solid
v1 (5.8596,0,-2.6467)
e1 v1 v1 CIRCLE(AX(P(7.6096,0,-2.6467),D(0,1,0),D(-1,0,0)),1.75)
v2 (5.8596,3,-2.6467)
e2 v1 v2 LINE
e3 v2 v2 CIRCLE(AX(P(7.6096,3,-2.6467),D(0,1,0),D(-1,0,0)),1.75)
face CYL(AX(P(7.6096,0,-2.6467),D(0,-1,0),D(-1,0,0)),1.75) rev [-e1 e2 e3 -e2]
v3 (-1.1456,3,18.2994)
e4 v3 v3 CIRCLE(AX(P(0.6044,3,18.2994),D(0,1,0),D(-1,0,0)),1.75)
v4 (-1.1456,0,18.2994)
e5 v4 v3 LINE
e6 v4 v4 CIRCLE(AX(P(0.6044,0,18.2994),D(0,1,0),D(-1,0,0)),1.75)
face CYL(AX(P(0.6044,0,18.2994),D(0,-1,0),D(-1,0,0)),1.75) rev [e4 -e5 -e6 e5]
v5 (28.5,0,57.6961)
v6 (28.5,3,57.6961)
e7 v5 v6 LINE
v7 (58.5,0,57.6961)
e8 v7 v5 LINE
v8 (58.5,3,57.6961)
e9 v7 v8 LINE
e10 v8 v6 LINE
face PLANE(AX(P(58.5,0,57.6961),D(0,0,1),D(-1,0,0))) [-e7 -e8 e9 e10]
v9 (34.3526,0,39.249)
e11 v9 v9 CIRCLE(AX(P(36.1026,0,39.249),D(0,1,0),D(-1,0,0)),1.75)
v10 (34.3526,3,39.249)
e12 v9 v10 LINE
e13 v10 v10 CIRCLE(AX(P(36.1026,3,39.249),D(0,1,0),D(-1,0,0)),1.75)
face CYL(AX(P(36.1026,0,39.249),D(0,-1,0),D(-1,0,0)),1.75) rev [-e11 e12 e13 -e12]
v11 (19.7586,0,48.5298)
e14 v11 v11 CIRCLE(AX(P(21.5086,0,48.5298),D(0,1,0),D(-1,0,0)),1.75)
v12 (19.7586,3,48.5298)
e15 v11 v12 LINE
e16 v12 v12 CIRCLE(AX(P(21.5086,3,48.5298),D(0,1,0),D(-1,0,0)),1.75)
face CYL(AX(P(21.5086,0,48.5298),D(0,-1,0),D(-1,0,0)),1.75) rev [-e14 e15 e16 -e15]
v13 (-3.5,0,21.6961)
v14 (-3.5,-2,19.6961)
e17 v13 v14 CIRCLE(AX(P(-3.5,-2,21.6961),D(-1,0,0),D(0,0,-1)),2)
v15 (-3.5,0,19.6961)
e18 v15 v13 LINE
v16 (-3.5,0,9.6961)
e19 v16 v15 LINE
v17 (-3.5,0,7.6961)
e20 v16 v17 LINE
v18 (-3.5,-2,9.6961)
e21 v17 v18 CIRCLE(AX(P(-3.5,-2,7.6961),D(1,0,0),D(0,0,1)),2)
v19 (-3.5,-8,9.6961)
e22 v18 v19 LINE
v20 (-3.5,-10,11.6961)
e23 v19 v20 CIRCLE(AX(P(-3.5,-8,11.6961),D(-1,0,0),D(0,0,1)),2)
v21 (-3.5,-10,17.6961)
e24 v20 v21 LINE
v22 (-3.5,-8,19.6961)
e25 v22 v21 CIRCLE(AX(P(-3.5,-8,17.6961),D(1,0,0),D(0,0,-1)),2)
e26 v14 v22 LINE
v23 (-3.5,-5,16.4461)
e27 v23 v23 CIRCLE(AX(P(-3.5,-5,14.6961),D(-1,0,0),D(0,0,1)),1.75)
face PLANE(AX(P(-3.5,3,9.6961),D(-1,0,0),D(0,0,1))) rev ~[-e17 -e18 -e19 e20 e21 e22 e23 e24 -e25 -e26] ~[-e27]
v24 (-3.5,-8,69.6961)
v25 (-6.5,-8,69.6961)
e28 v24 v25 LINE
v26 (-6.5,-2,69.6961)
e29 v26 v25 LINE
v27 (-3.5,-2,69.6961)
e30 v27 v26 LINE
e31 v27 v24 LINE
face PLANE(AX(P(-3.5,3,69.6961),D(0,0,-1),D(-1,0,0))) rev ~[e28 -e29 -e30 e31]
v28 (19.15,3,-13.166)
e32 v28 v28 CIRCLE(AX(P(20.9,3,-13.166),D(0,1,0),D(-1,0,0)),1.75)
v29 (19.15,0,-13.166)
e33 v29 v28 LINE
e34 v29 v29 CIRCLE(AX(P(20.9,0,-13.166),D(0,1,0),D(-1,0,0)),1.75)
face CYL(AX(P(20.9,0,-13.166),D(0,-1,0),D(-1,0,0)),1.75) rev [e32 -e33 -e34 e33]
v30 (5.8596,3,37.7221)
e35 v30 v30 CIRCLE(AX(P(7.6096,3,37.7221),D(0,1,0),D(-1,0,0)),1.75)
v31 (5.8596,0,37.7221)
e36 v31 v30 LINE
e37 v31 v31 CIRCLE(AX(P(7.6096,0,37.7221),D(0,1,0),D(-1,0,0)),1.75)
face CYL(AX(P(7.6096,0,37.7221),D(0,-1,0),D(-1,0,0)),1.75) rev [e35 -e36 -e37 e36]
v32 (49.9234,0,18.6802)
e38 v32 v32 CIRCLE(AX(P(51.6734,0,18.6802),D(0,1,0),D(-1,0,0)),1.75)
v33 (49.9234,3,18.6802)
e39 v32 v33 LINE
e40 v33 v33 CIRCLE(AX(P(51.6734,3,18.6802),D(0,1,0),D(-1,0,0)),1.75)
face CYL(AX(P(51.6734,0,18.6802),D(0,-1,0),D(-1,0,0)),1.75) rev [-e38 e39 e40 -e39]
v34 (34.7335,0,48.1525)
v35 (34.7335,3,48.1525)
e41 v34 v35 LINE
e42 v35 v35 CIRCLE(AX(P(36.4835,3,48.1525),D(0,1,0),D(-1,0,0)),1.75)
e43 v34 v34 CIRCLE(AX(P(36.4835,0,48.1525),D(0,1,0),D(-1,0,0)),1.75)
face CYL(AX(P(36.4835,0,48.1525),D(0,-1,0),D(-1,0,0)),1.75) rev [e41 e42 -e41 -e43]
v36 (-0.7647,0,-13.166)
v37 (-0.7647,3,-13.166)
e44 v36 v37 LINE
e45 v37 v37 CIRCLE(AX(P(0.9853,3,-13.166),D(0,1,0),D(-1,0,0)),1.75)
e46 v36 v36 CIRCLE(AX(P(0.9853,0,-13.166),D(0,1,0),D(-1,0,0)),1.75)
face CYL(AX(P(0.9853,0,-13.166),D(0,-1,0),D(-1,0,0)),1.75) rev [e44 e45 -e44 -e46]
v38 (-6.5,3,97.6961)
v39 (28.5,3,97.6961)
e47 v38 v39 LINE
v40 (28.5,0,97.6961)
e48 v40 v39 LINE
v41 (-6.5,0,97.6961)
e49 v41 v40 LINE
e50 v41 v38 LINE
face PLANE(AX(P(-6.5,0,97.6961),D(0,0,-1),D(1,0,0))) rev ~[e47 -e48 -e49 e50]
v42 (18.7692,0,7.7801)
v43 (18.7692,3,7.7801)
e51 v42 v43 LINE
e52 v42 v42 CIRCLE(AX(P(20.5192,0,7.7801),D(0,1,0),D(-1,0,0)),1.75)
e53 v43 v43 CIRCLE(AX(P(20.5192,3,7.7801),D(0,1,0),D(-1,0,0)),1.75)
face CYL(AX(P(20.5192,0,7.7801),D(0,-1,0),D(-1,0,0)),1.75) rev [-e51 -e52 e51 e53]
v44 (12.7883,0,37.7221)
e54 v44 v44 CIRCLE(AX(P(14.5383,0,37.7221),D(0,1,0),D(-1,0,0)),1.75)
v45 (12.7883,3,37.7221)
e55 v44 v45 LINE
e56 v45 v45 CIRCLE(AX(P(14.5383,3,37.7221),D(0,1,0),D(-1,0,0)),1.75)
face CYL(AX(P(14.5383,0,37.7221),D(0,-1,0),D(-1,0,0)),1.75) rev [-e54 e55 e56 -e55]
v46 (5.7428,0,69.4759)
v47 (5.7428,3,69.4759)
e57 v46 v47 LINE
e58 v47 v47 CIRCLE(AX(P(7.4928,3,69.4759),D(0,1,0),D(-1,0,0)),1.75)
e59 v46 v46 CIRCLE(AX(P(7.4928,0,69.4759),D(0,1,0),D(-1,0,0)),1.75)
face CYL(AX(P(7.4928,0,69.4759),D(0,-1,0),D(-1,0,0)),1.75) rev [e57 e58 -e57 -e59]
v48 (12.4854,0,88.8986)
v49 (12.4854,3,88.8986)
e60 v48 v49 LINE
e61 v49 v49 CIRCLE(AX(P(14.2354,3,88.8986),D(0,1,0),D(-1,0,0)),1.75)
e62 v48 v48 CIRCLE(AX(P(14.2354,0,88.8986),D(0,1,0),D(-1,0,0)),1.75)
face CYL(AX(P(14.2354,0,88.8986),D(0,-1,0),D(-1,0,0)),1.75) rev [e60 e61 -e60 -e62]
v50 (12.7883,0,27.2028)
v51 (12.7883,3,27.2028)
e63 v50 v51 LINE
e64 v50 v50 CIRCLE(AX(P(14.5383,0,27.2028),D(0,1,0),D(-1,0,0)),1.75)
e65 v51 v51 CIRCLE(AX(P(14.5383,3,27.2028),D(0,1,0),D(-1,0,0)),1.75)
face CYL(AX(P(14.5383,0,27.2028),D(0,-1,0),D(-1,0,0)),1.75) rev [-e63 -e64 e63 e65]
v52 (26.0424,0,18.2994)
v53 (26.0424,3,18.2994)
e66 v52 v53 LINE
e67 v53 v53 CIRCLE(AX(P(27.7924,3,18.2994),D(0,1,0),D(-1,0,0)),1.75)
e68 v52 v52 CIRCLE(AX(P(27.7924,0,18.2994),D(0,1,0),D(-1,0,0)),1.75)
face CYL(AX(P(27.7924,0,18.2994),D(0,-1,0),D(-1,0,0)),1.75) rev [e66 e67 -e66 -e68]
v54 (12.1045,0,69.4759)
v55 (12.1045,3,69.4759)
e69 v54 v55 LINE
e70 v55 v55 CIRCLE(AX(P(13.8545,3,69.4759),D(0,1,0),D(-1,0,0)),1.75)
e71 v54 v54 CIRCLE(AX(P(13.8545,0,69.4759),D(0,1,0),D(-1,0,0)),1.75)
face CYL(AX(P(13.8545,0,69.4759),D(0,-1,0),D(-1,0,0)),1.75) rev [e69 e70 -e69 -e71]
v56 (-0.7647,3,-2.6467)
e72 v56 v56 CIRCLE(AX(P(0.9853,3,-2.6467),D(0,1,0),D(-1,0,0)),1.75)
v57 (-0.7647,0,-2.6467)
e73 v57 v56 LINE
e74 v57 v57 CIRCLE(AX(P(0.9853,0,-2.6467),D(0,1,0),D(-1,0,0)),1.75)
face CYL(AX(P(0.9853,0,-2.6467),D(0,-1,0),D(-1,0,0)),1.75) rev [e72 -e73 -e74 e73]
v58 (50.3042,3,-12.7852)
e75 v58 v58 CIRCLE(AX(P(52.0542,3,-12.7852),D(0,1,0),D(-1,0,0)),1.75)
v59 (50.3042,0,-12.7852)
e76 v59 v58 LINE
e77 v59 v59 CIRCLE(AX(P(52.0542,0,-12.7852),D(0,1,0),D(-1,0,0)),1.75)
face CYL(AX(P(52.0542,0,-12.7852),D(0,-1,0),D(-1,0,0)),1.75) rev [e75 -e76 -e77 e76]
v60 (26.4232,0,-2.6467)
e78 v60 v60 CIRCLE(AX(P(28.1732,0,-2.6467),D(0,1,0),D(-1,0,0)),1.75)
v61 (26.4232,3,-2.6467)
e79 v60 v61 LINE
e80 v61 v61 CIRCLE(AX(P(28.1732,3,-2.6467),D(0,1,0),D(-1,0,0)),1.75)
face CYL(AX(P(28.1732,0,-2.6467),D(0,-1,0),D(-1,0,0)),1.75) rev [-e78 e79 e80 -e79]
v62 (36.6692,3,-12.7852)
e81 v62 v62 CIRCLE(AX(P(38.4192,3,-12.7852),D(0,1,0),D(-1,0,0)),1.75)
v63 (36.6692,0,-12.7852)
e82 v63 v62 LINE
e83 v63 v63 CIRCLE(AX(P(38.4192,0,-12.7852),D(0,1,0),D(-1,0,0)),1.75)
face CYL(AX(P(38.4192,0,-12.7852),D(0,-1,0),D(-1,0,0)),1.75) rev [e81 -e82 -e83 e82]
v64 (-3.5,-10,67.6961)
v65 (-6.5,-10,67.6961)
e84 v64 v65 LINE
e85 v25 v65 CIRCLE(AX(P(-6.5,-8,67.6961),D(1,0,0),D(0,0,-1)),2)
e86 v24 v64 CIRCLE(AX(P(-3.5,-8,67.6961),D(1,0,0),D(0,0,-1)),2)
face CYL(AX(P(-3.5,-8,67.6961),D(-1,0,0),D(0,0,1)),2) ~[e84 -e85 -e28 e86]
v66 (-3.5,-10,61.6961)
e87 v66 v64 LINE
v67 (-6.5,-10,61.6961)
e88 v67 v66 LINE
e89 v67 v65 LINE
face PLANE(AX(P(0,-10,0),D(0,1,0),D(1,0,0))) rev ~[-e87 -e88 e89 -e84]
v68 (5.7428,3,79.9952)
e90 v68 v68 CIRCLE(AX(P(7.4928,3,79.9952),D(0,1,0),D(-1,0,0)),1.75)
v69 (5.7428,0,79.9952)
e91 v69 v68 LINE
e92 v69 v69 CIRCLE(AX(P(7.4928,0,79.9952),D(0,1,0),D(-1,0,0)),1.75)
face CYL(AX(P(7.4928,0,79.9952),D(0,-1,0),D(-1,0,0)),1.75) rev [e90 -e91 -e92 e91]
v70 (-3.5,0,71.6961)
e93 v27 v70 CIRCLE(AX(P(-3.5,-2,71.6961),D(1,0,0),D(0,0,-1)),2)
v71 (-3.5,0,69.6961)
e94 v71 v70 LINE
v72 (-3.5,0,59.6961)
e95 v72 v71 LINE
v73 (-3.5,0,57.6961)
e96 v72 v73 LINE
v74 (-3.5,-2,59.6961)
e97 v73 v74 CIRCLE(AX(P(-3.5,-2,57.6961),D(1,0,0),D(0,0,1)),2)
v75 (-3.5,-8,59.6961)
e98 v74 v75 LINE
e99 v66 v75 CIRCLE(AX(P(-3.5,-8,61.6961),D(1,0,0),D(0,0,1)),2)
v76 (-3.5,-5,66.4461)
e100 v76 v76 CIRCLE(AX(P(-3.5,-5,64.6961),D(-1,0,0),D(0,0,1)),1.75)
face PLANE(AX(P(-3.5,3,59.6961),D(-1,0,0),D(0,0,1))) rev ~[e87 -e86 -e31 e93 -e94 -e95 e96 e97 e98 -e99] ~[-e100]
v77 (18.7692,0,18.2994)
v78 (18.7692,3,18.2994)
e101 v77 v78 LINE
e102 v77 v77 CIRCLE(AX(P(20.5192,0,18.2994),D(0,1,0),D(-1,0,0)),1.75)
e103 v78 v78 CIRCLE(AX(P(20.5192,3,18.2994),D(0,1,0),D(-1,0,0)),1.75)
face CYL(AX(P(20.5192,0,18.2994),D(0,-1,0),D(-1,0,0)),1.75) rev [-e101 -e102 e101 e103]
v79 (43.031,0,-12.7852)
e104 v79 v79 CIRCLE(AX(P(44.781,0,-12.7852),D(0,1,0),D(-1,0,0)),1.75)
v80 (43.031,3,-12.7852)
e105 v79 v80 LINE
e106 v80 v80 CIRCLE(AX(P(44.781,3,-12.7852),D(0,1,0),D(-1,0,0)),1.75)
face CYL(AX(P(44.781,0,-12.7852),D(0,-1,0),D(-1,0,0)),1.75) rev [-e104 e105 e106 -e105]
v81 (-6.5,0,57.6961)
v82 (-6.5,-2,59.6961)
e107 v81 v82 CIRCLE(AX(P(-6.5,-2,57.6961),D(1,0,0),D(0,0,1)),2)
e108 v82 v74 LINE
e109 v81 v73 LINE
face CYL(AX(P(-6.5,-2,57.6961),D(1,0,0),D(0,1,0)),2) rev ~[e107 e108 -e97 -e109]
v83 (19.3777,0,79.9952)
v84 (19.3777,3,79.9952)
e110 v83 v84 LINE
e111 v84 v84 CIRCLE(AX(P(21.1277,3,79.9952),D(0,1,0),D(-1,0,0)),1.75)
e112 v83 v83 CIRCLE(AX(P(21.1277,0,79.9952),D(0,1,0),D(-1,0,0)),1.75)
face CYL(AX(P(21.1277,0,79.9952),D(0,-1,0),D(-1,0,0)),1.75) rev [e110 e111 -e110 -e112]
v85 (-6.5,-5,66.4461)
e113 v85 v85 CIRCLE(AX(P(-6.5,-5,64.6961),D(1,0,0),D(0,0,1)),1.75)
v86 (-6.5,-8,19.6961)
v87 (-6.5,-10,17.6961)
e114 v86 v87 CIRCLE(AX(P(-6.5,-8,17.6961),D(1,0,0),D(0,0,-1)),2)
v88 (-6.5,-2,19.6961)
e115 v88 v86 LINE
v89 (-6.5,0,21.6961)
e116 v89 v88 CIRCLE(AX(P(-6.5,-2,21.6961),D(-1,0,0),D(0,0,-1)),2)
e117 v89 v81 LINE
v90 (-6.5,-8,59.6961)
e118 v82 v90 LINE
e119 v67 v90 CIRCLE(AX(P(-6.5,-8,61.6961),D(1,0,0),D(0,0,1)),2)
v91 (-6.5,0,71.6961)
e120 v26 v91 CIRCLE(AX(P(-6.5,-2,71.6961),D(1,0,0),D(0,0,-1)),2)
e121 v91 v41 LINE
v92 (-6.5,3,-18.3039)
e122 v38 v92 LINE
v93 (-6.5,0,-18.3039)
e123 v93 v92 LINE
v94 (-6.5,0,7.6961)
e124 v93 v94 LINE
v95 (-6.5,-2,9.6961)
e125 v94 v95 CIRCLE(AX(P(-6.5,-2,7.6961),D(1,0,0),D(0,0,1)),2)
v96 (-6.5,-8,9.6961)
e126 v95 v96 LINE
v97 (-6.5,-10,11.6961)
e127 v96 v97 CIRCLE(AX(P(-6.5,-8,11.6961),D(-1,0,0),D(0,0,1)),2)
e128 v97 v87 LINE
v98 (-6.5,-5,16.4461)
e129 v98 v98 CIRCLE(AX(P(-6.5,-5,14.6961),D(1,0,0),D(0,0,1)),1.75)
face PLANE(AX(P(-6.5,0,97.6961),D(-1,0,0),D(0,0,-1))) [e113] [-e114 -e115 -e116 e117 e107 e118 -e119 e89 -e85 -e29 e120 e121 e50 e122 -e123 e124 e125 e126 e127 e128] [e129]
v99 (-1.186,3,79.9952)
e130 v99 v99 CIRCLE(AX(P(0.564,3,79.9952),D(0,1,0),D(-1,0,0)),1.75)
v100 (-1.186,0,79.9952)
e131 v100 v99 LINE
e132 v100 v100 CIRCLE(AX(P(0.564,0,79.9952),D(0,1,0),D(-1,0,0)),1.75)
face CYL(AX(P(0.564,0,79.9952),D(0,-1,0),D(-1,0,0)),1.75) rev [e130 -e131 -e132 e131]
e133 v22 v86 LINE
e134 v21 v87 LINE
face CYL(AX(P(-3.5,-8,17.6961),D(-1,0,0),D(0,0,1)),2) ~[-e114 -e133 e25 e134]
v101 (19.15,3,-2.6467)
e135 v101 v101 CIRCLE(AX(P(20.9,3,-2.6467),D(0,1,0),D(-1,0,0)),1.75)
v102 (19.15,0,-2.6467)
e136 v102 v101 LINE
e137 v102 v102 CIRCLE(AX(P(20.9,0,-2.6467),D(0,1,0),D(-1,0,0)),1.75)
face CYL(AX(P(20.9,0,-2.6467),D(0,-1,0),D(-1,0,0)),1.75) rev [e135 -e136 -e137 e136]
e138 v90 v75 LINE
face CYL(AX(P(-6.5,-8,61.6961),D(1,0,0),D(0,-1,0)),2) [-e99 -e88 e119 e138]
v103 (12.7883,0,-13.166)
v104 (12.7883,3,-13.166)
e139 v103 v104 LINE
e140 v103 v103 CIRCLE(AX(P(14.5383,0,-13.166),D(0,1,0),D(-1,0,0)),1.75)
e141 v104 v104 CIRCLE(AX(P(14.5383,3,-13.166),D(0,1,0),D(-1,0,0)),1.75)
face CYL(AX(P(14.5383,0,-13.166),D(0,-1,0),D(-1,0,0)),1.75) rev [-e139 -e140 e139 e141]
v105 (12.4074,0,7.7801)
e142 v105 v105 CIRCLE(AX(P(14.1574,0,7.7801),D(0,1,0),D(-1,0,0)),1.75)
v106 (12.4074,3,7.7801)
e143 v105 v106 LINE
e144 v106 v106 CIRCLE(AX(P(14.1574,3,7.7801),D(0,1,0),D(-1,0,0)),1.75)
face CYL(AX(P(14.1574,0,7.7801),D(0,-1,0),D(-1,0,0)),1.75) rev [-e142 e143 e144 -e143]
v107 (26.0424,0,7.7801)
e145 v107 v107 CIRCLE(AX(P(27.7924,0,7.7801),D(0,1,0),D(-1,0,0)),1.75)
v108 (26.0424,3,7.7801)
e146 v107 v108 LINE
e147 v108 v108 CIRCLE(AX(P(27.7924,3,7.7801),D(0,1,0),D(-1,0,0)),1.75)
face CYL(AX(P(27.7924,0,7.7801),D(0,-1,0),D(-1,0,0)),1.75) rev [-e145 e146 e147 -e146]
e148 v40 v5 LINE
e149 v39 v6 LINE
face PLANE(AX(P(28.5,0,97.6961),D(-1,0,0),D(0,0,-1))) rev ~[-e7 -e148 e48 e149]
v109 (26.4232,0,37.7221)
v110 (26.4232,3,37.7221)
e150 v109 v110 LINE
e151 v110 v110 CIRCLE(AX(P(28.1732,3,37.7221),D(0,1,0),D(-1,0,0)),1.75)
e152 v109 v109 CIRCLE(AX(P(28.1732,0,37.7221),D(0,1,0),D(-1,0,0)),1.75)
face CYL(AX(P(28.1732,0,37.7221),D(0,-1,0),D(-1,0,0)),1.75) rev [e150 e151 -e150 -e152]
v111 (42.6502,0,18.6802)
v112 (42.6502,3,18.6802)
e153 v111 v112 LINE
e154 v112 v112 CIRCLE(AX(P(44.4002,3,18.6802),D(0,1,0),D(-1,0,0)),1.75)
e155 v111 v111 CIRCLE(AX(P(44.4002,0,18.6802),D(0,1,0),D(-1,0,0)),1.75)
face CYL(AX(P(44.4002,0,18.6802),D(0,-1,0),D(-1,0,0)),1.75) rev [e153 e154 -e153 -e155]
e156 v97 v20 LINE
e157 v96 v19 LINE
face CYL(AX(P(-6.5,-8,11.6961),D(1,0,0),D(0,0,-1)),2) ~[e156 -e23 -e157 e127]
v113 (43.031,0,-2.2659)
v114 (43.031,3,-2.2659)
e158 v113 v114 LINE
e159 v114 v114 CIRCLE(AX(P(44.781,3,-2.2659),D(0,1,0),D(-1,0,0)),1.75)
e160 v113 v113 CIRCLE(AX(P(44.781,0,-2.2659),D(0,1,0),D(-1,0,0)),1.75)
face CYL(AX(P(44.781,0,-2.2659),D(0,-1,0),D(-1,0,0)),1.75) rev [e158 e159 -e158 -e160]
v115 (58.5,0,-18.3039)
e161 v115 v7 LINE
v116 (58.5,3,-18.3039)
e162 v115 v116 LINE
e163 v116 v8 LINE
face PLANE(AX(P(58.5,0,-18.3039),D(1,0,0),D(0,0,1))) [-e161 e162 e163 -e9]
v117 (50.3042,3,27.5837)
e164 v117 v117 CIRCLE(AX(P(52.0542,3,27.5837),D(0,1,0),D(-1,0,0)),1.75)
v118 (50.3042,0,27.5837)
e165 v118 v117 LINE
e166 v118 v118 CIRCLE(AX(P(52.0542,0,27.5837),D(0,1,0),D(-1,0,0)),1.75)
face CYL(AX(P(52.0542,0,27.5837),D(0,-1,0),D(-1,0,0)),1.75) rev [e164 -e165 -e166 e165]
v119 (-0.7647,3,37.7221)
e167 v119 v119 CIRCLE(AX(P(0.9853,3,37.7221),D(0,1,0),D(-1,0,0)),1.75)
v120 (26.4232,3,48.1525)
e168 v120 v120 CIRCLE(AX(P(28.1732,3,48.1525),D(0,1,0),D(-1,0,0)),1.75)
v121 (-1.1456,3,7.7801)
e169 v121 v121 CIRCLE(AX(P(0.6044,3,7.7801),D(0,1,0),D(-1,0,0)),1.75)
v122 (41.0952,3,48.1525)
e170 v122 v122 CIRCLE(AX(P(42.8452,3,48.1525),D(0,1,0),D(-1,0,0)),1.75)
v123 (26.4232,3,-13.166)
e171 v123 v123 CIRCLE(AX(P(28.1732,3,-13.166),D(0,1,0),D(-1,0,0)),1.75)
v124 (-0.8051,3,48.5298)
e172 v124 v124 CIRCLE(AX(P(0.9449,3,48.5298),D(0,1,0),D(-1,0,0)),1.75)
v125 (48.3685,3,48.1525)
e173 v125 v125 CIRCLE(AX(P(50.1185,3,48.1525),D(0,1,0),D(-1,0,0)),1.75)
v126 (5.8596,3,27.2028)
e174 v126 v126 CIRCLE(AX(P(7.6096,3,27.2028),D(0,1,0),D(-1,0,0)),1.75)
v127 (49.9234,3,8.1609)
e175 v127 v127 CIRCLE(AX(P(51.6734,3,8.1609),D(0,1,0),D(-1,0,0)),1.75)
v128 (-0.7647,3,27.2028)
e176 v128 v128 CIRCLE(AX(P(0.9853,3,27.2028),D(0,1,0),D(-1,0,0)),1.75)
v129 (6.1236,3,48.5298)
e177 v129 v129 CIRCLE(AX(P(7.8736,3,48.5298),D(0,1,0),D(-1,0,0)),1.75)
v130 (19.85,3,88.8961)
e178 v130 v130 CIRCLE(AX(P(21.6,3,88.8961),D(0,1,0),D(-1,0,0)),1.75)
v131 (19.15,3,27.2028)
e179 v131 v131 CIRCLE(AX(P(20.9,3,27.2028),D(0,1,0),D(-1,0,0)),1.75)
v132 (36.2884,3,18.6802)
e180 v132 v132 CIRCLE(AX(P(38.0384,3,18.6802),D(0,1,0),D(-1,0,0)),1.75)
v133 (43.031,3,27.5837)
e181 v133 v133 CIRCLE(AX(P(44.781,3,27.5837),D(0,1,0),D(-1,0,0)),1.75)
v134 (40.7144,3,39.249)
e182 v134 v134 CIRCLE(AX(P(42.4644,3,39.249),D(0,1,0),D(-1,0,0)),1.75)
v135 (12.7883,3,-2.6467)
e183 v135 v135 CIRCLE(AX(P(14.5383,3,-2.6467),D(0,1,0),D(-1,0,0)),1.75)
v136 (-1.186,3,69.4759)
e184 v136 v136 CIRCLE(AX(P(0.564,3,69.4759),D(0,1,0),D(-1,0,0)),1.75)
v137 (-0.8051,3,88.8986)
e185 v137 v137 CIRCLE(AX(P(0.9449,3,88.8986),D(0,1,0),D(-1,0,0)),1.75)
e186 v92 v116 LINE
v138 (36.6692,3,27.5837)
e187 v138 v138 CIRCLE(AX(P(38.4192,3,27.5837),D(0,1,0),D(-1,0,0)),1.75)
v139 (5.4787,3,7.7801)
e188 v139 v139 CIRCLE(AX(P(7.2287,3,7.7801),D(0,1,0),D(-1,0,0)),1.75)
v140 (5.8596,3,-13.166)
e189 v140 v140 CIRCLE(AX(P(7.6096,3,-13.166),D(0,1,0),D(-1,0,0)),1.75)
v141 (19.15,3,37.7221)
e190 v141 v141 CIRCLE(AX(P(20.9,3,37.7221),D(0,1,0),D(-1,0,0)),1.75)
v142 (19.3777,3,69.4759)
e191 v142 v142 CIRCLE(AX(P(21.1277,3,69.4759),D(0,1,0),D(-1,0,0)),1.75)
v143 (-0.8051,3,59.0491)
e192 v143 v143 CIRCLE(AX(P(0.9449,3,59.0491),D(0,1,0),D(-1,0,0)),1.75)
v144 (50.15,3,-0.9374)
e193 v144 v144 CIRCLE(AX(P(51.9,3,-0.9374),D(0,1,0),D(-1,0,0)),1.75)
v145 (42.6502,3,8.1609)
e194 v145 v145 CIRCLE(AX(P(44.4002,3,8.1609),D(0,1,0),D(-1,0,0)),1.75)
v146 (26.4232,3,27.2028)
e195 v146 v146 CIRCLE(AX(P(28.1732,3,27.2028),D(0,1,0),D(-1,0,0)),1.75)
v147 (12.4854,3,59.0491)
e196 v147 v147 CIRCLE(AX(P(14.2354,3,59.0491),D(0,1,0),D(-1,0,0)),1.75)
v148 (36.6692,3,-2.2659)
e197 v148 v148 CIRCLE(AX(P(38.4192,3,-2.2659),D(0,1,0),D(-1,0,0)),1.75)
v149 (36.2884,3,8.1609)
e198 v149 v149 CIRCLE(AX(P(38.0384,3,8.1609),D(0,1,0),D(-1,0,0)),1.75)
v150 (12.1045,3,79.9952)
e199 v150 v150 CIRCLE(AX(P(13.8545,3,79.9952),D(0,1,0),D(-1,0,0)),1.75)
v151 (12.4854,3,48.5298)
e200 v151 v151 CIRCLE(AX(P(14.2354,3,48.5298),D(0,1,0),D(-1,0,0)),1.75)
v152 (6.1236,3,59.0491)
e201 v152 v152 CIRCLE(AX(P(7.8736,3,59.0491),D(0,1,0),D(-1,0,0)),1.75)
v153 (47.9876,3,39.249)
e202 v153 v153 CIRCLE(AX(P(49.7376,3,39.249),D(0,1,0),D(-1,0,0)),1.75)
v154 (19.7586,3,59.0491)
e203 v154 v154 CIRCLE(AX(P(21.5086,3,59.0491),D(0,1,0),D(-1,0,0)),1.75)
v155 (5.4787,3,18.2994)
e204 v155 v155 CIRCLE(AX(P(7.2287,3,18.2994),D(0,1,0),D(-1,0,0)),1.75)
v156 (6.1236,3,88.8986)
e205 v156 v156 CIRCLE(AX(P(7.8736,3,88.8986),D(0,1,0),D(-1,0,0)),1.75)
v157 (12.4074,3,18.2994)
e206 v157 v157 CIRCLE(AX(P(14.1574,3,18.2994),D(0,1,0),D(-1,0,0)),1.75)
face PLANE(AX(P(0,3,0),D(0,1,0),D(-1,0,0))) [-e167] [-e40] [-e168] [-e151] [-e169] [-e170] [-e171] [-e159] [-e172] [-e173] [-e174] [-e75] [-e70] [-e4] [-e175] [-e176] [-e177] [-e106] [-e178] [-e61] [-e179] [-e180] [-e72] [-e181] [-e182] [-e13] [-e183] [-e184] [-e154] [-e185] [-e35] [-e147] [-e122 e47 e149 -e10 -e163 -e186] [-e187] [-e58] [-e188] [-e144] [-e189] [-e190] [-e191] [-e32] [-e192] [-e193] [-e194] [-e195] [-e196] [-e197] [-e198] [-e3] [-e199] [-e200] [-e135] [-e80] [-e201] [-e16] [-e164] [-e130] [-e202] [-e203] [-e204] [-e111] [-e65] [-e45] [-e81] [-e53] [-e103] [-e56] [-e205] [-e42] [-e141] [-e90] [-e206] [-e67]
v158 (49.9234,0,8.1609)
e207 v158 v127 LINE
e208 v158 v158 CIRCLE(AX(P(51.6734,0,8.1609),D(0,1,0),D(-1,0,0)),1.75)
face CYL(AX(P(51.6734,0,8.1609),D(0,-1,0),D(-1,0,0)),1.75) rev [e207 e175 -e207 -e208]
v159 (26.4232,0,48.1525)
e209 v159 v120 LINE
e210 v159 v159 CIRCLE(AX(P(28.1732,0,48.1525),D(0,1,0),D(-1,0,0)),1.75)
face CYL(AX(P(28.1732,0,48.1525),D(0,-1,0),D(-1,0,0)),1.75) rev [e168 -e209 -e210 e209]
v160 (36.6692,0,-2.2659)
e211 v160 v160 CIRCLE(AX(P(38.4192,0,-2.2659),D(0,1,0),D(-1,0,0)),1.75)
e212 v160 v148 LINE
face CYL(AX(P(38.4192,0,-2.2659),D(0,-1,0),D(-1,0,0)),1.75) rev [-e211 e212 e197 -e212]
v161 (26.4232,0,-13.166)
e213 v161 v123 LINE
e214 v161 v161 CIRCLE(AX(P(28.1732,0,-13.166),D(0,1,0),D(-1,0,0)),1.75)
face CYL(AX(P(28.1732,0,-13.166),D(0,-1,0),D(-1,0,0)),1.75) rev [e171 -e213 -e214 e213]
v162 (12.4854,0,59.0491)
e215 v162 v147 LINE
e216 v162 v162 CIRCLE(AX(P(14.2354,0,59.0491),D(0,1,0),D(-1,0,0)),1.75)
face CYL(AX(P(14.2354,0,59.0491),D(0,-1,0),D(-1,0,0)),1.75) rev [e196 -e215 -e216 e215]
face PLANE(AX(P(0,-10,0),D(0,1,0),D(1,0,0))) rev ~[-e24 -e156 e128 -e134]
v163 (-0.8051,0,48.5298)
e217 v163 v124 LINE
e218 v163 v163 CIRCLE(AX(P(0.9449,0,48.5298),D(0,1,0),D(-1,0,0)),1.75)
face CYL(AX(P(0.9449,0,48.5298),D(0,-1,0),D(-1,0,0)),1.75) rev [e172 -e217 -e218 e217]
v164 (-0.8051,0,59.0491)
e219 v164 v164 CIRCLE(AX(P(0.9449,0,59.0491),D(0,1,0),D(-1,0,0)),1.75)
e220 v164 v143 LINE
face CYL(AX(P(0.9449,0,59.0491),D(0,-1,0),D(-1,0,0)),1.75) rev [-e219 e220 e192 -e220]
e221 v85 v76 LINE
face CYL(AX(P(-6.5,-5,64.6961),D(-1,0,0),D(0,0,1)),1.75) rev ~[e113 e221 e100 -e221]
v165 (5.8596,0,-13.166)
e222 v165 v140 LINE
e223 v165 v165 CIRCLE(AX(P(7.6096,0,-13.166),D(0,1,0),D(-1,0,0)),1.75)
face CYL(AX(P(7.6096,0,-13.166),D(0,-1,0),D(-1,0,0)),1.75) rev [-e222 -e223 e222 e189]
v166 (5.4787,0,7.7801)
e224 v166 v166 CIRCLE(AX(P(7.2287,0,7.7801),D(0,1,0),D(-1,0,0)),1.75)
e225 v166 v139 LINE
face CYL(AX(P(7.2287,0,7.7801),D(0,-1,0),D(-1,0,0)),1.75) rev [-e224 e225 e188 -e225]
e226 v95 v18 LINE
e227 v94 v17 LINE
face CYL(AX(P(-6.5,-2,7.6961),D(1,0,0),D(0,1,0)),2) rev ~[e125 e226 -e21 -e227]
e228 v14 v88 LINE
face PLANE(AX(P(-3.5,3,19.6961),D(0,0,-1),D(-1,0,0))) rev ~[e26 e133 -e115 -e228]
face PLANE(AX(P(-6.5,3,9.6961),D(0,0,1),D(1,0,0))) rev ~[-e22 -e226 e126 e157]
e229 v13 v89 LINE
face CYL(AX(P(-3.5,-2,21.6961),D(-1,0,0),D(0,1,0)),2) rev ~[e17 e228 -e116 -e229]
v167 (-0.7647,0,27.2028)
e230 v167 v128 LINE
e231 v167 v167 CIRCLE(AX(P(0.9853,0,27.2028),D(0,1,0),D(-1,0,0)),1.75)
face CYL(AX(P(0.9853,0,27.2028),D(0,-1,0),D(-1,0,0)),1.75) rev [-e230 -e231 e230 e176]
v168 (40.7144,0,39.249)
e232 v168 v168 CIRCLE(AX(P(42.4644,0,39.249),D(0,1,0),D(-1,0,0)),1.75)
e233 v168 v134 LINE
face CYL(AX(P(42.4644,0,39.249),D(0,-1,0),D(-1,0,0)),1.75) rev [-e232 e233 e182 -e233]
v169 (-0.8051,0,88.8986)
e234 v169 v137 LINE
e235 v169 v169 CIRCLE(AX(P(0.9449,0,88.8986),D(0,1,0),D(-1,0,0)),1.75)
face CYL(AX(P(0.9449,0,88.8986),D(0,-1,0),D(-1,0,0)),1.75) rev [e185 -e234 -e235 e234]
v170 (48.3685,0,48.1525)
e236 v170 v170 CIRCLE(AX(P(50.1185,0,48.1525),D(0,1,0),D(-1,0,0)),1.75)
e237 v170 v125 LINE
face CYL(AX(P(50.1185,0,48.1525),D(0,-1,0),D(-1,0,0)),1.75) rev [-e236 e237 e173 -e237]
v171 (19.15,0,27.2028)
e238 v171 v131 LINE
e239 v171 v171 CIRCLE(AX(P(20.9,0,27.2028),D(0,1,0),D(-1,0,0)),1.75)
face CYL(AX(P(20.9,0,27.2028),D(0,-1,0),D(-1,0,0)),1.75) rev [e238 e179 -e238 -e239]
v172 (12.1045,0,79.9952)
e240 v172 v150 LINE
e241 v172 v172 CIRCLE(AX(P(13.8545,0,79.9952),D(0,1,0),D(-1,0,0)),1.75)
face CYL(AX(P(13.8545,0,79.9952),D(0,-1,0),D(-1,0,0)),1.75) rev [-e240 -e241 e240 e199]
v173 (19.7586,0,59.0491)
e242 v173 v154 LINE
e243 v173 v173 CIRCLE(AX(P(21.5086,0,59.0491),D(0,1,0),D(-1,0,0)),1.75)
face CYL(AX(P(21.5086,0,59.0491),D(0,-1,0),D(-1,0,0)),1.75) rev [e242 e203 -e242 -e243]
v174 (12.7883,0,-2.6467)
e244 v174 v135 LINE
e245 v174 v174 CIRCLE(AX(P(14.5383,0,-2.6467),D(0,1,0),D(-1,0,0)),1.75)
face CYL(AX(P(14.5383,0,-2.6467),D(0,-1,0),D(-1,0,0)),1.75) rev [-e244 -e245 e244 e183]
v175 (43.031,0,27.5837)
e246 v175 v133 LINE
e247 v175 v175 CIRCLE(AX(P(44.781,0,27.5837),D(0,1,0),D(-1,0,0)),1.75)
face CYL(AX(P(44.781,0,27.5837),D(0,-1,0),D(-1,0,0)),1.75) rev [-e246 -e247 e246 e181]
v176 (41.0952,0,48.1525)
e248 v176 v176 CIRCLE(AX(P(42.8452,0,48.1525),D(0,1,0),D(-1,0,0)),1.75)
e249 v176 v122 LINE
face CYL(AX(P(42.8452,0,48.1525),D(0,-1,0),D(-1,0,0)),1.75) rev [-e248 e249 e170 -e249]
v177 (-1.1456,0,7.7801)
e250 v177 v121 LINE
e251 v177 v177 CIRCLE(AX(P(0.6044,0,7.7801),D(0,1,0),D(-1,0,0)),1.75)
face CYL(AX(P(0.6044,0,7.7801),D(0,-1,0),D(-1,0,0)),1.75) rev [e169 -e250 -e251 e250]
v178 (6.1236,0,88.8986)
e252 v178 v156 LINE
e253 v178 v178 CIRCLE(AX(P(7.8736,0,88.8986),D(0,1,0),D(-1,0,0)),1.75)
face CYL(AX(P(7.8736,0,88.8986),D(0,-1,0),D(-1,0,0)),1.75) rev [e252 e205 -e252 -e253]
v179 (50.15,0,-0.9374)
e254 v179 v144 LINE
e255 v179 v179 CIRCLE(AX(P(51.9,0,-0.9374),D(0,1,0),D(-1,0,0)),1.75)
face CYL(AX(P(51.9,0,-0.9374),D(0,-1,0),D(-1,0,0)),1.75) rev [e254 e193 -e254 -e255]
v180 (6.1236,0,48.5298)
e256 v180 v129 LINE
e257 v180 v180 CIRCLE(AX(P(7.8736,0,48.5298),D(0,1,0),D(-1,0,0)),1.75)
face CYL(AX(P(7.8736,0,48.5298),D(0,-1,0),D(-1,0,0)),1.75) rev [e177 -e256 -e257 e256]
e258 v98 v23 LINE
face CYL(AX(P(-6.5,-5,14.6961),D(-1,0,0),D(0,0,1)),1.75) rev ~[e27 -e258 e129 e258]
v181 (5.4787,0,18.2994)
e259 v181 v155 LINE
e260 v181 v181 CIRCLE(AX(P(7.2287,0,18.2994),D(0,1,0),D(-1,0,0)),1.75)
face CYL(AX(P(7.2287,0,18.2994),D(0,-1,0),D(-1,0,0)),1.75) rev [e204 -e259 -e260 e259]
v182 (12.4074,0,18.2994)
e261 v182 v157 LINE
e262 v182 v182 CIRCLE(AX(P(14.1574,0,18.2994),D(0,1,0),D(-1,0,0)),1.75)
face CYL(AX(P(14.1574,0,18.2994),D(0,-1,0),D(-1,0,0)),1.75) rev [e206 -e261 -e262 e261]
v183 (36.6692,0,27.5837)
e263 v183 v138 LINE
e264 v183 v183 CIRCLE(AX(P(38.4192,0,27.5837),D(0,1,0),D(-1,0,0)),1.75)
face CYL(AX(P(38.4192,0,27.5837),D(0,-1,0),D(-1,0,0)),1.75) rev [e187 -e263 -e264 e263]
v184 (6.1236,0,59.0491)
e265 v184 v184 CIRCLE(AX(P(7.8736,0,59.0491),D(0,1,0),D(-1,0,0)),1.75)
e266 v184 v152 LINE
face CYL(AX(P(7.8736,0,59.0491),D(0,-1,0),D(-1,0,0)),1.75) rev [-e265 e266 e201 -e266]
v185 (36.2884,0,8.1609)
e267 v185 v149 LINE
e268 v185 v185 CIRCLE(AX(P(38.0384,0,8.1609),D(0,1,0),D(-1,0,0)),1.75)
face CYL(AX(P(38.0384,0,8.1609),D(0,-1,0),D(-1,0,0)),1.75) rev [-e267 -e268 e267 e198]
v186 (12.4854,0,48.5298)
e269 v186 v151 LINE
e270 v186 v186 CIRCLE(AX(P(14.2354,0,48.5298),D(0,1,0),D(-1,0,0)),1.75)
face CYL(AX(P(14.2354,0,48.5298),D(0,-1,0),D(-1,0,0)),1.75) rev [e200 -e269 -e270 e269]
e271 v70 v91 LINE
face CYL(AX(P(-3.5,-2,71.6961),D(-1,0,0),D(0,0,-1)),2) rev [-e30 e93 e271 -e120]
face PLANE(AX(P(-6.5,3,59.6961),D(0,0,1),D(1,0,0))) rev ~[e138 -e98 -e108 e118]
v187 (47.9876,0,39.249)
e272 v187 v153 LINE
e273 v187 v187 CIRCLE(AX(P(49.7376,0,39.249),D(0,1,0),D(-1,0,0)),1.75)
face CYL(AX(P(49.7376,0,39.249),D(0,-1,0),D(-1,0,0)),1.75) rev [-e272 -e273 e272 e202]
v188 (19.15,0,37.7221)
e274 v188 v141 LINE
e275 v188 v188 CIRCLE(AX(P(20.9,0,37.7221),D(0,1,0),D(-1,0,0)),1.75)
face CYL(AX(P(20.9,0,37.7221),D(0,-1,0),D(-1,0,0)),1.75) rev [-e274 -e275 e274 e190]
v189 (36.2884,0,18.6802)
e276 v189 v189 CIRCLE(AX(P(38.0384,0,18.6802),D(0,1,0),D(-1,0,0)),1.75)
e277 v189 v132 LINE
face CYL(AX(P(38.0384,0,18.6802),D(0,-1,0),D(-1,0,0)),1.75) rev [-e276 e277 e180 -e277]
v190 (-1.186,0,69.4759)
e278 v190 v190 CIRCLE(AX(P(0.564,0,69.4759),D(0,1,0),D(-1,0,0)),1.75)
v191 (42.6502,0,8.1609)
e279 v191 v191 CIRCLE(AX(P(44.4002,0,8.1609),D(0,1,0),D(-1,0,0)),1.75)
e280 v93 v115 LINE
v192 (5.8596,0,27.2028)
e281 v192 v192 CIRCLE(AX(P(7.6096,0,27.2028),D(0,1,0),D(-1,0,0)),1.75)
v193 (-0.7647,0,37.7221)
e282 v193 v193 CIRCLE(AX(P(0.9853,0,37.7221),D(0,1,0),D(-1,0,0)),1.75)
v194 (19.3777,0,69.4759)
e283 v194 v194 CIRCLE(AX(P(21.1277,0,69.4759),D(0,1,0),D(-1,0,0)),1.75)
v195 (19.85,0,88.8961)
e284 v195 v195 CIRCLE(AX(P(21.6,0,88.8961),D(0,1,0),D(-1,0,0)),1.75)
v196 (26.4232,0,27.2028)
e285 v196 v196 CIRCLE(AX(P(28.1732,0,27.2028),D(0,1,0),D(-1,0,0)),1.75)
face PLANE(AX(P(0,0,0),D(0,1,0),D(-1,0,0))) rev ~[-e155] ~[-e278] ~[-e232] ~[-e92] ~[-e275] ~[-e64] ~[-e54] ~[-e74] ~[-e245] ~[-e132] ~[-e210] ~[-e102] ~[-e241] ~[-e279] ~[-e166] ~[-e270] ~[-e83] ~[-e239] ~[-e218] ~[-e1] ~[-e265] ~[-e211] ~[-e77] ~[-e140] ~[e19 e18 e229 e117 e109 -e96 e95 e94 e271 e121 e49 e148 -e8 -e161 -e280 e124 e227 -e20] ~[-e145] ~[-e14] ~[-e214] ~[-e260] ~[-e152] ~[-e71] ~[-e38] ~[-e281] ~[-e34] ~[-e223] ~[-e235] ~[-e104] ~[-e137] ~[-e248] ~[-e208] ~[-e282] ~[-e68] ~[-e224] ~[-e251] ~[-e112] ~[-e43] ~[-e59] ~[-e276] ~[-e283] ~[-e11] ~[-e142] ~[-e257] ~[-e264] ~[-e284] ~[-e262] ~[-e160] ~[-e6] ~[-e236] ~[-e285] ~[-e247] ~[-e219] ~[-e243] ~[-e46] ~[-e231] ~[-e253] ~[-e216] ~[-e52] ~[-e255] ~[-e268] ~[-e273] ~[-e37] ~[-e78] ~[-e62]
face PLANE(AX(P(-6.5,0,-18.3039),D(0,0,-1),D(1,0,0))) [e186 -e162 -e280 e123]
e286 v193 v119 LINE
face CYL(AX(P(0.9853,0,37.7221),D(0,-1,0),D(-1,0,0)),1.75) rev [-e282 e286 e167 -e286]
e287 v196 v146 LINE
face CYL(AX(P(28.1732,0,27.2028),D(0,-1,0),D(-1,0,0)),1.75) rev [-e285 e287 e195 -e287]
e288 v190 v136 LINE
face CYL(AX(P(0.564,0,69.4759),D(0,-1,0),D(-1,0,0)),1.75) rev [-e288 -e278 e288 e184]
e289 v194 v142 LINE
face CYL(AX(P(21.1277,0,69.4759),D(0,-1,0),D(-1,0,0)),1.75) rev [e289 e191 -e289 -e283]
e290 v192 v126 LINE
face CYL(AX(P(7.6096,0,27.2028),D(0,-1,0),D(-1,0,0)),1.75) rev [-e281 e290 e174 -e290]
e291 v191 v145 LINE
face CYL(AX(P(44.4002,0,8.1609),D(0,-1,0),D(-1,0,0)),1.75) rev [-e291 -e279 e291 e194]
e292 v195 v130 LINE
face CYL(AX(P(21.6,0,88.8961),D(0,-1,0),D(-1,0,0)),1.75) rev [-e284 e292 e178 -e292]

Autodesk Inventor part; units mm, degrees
ref_plane "YZ Plane" through (0, 0, 0) normal (1, 0, 0) x (0, 1, 0)
ref_plane "XZ Plane" through (0, 0, 0) normal (0, 1, 0) x (-1, 0, 0)
ref_plane "XY Plane" through (0, 0, 0) normal (0, 0, 1) x (1, 0, 0)
sketch "Esquisse1" plane through (0, 0, 0) normal (0, 1, 0) x (-1, 0, 0)
  line L0 (6.5, 97.6961) -> (-28.5, 97.6961)
  line L1 (6.5, -18.3039) -> (-58.5, -18.3039)
  line L2 (6.5, 97.6961) -> (6.5, -18.3039)
  line L3 (-28.5, 97.6961) -> (-28.5, 57.6961)
  line L4 (-58.5, -18.3039) -> (-58.5, 57.6961)
  line L5 (-58.5, 57.6961) -> (-28.5, 57.6961)
  circle A0 centre (-14.5383, -13.166) radius 1.75
  circle A1 centre (-20.9, -13.166) radius 1.75
  circle A2 centre (-28.1732, -13.166) radius 1.75
  circle A3 centre (-28.1732, -2.6467) radius 1.75
  circle A4 centre (-0.9853, -2.6467) radius 1.75
  circle A5 centre (-7.6096, -13.166) radius 1.75
  circle A6 centre (-7.6096, -2.6467) radius 1.75
  circle A7 centre (-20.9, -2.6467) radius 1.75
  circle A8 centre (-14.5383, -2.6467) radius 1.75
  circle A9 centre (-0.9853, -13.166) radius 1.75
  circle A10 centre (-14.1574, 7.7801) radius 1.75
  circle A11 centre (-20.5192, 7.7801) radius 1.75
  circle A12 centre (-27.7924, 7.7801) radius 1.75
  circle A13 centre (-27.7924, 18.2994) radius 1.75
  circle A14 centre (-0.6044, 18.2994) radius 1.75
  circle A15 centre (-7.2287, 7.7801) radius 1.75
  circle A16 centre (-7.2287, 18.2994) radius 1.75
  circle A17 centre (-20.5192, 18.2994) radius 1.75
  circle A18 centre (-14.1574, 18.2994) radius 1.75
  circle A19 centre (-0.6044, 7.7801) radius 1.75
  circle A20 centre (-14.5383, 27.2028) radius 1.75
  circle A21 centre (-20.9, 27.2028) radius 1.75
  circle A22 centre (-28.1732, 27.2028) radius 1.75
  circle A23 centre (-28.1732, 37.7221) radius 1.75
  circle A24 centre (-0.9853, 37.7221) radius 1.75
  circle A25 centre (-7.6096, 27.2028) radius 1.75
  circle A26 centre (-7.6096, 37.7221) radius 1.75
  circle A27 centre (-20.9, 37.7221) radius 1.75
  circle A28 centre (-14.5383, 37.7221) radius 1.75
  circle A29 centre (-0.9853, 27.2028) radius 1.75
  circle A30 centre (-14.2354, 48.5298) radius 1.75
  circle A31 centre (-7.8736, 48.5298) radius 1.75
  circle A32 centre (-0.9449, 48.5298) radius 1.75
  circle A33 centre (-21.5086, 59.0491) radius 1.75
  circle A34 centre (-14.2354, 59.0491) radius 1.75
  circle A35 centre (-7.8736, 59.0491) radius 1.75
  circle A36 centre (-0.9449, 59.0491) radius 1.75
  circle A37 centre (-21.5086, 48.5298) radius 1.75
  circle A38 centre (-13.8545, 69.4759) radius 1.75
  circle A39 centre (-7.4928, 69.4759) radius 1.75
  circle A40 centre (-0.564, 69.4759) radius 1.75
  circle A41 centre (-21.1277, 79.9952) radius 1.75
  circle A42 centre (-13.8545, 79.9952) radius 1.75
  circle A43 centre (-7.4928, 79.9952) radius 1.75
  circle A44 centre (-0.564, 79.9952) radius 1.75
  circle A45 centre (-21.1277, 69.4759) radius 1.75
  circle A46 centre (-14.2354, 88.8986) radius 1.75
  circle A47 centre (-7.8736, 88.8986) radius 1.75
  circle A48 centre (-0.9449, 88.8986) radius 1.75
  circle A49 centre (-21.6, 88.8961) radius 1.75
  circle A50 centre (-44.781, -12.7852) radius 1.75
  circle A51 centre (-38.4192, -12.7852) radius 1.75
  circle A52 centre (-51.9, -0.9374) radius 1.75
  circle A53 centre (-44.781, -2.2659) radius 1.75
  circle A54 centre (-38.4192, -2.2659) radius 1.75
  circle A55 centre (-52.0542, -12.7852) radius 1.75
  circle A56 centre (-44.4002, 8.1609) radius 1.75
  circle A57 centre (-38.0384, 8.1609) radius 1.75
  circle A58 centre (-51.6734, 18.6802) radius 1.75
  circle A59 centre (-44.4002, 18.6802) radius 1.75
  circle A60 centre (-38.0384, 18.6802) radius 1.75
  circle A61 centre (-51.6734, 8.1609) radius 1.75
  circle A62 centre (-44.781, 27.5837) radius 1.75
  circle A63 centre (-38.4192, 27.5837) radius 1.75
  circle A64 centre (-52.0542, 27.5837) radius 1.75
  circle A65 centre (-36.1026, 39.249) radius 1.75
  circle A66 centre (-49.7376, 39.249) radius 1.75
  circle A67 centre (-42.8452, 48.1525) radius 1.75
  circle A68 centre (-50.1185, 48.1525) radius 1.75
  circle A69 centre (-42.4644, 39.249) radius 1.75
  circle A70 centre (-36.4835, 48.1525) radius 1.75
  circle A71 centre (-28.1732, 48.1525) radius 1.75
  line L6 (3.5, 9.6961) -> (6.5, 9.6961)
  line L7 (6.5, 9.6961) -> (6.5, 19.6961)
  line L8 (6.5, 19.6961) -> (3.5, 19.6961)
  line L9 (3.5, 19.6961) -> (3.5, 9.6961)
  line L10 (3.5, 9.6961) -> (6.5, 19.6961) construction
  line L11 (6.5, 9.6961) -> (3.5, 19.6961) construction
  line L12 (3.5, 59.6961) -> (6.5, 59.6961)
  line L13 (6.5, 59.6961) -> (6.5, 69.6961)
  line L14 (6.5, 69.6961) -> (3.5, 69.6961)
  line L15 (3.5, 69.6961) -> (3.5, 59.6961)
  line L16 (3.5, 59.6961) -> (6.5, 69.6961) construction
  line L17 (6.5, 59.6961) -> (3.5, 69.6961) construction
  point P0 (0, 0)
  point P1 (-47.865, 53.9077)
  point P2 (5, 14.6961)
  point P3 (5, 64.6961)
  dimension "d0" = 35
  dimension "d1" = 65
  dimension "d2" = 116
  dimension "d3" = 40
  dimension "d4" = 76
  dimension "d10" = 17.3665
  dimension "d11" = 6.6
  dimension "d30" = 1.5
  dimension "d31" = 1.5
  dimension "d32" = 33
  dimension "d33" = 33
  dimension "d34" = 3
  dimension "d35" = 3
  dimension "d36" = 10
  dimension "d37" = 10
  dimension "d75" = 6.9
  dimension "d76" = 8.8
extrude "Extrusion6" add sketch "Esquisse1" along normal blind 3
sketch "Esquisse8" plane through (0, 3, 0) normal (0, 1, 0) x (1, 0, 0)
  line L0 (58.5, 18.3039) -> (-6.5, 18.3039) projected
  line L1 (-6.5, 18.3039) -> (-6.5, -97.6961) projected
  line L2 (-3.5, -19.6961) -> (-6.5, -19.6961)
  line L3 (-6.5, -19.6961) -> (-6.5, -9.6961)
  line L4 (-6.5, -9.6961) -> (-3.5, -9.6961)
  line L5 (-3.5, -9.6961) -> (-3.5, -19.6961)
  line L6 (-3.5, -19.6961) -> (-6.5, -9.6961) construction
  line L7 (-6.5, -19.6961) -> (-3.5, -9.6961) construction
  line L8 (-6.5, -97.6961) -> (28.5, -97.6961) projected
  line L9 (-3.5, -69.6961) -> (-6.5, -69.6961)
  line L10 (-6.5, -69.6961) -> (-6.5, -59.6961)
  line L11 (-6.5, -59.6961) -> (-3.5, -59.6961)
  line L12 (-3.5, -59.6961) -> (-3.5, -69.6961)
  line L13 (-3.5, -69.6961) -> (-6.5, -59.6961) construction
  line L14 (-6.5, -69.6961) -> (-3.5, -59.6961) construction
  point P0 (0, 0)
  point P1 (-5, -14.6961)
  point P2 (-5, -64.6961)
  dimension "d54" = 33
  dimension "d55" = 1.5
  dimension "d56" = 3
  dimension "d57" = 10
  dimension "d58" = 1.5
  dimension "d59" = 33
  dimension "d60" = 3
  dimension "d61" = 10
extrude "Extrusion10" add sketch "Esquisse8" against normal blind 13
sketch "Esquisse10" plane through (-6.5, 0, 97.6961) normal (-1, 0, 0) x (0, 0, 1)
  line L0 (-28, 0) -> (-28, -10) projected
  line L1 (-28, -10) -> (-38, 0)
  line L2 (-38, 0) -> (-38, -10)
  line L3 (-38, -10) -> (-28, 0)
  circle A0 centre (-33, -5) radius 1.75
  line L4 (-78, 0) -> (-78, -10) projected
  line L5 (-78, -10) -> (-88, 0)
  line L6 (-40, 0) -> (-116, 0) projected
  line L7 (-88, 0) -> (-88, -10) projected
  line L8 (-88, -10) -> (-78, 0)
  circle A1 centre (-83, -5) radius 1.75
  point P0 (-97.6961, 0)
  dimension "d69" = 3.5
  dimension "d70" = 3.5
extrude "Extrusion12" cut sketch "Esquisse10" against normal blind 3 contours A0 L1 L3 | L3 L1 A0 | A0 L3 L1 | L3 A0 L1 | A1 L5 L8 | L8 L5 A1 | A1 L8 L5 | L5 L8 A1
fillet "Congé4" radius 2 5 edges at (-5, -10, 59.6961) (-5, -10, 69.6961) (-5, 0, 59.6961) (-5, -10, 19.6961) (-5, -10, 9.6961)
fillet "Congé5" radius 2 3 edges at (-5, 0, 9.6961) (-5, 0, 19.6961) (-5, 0, 69.6961)
properties part number "mur_étage_droit"
